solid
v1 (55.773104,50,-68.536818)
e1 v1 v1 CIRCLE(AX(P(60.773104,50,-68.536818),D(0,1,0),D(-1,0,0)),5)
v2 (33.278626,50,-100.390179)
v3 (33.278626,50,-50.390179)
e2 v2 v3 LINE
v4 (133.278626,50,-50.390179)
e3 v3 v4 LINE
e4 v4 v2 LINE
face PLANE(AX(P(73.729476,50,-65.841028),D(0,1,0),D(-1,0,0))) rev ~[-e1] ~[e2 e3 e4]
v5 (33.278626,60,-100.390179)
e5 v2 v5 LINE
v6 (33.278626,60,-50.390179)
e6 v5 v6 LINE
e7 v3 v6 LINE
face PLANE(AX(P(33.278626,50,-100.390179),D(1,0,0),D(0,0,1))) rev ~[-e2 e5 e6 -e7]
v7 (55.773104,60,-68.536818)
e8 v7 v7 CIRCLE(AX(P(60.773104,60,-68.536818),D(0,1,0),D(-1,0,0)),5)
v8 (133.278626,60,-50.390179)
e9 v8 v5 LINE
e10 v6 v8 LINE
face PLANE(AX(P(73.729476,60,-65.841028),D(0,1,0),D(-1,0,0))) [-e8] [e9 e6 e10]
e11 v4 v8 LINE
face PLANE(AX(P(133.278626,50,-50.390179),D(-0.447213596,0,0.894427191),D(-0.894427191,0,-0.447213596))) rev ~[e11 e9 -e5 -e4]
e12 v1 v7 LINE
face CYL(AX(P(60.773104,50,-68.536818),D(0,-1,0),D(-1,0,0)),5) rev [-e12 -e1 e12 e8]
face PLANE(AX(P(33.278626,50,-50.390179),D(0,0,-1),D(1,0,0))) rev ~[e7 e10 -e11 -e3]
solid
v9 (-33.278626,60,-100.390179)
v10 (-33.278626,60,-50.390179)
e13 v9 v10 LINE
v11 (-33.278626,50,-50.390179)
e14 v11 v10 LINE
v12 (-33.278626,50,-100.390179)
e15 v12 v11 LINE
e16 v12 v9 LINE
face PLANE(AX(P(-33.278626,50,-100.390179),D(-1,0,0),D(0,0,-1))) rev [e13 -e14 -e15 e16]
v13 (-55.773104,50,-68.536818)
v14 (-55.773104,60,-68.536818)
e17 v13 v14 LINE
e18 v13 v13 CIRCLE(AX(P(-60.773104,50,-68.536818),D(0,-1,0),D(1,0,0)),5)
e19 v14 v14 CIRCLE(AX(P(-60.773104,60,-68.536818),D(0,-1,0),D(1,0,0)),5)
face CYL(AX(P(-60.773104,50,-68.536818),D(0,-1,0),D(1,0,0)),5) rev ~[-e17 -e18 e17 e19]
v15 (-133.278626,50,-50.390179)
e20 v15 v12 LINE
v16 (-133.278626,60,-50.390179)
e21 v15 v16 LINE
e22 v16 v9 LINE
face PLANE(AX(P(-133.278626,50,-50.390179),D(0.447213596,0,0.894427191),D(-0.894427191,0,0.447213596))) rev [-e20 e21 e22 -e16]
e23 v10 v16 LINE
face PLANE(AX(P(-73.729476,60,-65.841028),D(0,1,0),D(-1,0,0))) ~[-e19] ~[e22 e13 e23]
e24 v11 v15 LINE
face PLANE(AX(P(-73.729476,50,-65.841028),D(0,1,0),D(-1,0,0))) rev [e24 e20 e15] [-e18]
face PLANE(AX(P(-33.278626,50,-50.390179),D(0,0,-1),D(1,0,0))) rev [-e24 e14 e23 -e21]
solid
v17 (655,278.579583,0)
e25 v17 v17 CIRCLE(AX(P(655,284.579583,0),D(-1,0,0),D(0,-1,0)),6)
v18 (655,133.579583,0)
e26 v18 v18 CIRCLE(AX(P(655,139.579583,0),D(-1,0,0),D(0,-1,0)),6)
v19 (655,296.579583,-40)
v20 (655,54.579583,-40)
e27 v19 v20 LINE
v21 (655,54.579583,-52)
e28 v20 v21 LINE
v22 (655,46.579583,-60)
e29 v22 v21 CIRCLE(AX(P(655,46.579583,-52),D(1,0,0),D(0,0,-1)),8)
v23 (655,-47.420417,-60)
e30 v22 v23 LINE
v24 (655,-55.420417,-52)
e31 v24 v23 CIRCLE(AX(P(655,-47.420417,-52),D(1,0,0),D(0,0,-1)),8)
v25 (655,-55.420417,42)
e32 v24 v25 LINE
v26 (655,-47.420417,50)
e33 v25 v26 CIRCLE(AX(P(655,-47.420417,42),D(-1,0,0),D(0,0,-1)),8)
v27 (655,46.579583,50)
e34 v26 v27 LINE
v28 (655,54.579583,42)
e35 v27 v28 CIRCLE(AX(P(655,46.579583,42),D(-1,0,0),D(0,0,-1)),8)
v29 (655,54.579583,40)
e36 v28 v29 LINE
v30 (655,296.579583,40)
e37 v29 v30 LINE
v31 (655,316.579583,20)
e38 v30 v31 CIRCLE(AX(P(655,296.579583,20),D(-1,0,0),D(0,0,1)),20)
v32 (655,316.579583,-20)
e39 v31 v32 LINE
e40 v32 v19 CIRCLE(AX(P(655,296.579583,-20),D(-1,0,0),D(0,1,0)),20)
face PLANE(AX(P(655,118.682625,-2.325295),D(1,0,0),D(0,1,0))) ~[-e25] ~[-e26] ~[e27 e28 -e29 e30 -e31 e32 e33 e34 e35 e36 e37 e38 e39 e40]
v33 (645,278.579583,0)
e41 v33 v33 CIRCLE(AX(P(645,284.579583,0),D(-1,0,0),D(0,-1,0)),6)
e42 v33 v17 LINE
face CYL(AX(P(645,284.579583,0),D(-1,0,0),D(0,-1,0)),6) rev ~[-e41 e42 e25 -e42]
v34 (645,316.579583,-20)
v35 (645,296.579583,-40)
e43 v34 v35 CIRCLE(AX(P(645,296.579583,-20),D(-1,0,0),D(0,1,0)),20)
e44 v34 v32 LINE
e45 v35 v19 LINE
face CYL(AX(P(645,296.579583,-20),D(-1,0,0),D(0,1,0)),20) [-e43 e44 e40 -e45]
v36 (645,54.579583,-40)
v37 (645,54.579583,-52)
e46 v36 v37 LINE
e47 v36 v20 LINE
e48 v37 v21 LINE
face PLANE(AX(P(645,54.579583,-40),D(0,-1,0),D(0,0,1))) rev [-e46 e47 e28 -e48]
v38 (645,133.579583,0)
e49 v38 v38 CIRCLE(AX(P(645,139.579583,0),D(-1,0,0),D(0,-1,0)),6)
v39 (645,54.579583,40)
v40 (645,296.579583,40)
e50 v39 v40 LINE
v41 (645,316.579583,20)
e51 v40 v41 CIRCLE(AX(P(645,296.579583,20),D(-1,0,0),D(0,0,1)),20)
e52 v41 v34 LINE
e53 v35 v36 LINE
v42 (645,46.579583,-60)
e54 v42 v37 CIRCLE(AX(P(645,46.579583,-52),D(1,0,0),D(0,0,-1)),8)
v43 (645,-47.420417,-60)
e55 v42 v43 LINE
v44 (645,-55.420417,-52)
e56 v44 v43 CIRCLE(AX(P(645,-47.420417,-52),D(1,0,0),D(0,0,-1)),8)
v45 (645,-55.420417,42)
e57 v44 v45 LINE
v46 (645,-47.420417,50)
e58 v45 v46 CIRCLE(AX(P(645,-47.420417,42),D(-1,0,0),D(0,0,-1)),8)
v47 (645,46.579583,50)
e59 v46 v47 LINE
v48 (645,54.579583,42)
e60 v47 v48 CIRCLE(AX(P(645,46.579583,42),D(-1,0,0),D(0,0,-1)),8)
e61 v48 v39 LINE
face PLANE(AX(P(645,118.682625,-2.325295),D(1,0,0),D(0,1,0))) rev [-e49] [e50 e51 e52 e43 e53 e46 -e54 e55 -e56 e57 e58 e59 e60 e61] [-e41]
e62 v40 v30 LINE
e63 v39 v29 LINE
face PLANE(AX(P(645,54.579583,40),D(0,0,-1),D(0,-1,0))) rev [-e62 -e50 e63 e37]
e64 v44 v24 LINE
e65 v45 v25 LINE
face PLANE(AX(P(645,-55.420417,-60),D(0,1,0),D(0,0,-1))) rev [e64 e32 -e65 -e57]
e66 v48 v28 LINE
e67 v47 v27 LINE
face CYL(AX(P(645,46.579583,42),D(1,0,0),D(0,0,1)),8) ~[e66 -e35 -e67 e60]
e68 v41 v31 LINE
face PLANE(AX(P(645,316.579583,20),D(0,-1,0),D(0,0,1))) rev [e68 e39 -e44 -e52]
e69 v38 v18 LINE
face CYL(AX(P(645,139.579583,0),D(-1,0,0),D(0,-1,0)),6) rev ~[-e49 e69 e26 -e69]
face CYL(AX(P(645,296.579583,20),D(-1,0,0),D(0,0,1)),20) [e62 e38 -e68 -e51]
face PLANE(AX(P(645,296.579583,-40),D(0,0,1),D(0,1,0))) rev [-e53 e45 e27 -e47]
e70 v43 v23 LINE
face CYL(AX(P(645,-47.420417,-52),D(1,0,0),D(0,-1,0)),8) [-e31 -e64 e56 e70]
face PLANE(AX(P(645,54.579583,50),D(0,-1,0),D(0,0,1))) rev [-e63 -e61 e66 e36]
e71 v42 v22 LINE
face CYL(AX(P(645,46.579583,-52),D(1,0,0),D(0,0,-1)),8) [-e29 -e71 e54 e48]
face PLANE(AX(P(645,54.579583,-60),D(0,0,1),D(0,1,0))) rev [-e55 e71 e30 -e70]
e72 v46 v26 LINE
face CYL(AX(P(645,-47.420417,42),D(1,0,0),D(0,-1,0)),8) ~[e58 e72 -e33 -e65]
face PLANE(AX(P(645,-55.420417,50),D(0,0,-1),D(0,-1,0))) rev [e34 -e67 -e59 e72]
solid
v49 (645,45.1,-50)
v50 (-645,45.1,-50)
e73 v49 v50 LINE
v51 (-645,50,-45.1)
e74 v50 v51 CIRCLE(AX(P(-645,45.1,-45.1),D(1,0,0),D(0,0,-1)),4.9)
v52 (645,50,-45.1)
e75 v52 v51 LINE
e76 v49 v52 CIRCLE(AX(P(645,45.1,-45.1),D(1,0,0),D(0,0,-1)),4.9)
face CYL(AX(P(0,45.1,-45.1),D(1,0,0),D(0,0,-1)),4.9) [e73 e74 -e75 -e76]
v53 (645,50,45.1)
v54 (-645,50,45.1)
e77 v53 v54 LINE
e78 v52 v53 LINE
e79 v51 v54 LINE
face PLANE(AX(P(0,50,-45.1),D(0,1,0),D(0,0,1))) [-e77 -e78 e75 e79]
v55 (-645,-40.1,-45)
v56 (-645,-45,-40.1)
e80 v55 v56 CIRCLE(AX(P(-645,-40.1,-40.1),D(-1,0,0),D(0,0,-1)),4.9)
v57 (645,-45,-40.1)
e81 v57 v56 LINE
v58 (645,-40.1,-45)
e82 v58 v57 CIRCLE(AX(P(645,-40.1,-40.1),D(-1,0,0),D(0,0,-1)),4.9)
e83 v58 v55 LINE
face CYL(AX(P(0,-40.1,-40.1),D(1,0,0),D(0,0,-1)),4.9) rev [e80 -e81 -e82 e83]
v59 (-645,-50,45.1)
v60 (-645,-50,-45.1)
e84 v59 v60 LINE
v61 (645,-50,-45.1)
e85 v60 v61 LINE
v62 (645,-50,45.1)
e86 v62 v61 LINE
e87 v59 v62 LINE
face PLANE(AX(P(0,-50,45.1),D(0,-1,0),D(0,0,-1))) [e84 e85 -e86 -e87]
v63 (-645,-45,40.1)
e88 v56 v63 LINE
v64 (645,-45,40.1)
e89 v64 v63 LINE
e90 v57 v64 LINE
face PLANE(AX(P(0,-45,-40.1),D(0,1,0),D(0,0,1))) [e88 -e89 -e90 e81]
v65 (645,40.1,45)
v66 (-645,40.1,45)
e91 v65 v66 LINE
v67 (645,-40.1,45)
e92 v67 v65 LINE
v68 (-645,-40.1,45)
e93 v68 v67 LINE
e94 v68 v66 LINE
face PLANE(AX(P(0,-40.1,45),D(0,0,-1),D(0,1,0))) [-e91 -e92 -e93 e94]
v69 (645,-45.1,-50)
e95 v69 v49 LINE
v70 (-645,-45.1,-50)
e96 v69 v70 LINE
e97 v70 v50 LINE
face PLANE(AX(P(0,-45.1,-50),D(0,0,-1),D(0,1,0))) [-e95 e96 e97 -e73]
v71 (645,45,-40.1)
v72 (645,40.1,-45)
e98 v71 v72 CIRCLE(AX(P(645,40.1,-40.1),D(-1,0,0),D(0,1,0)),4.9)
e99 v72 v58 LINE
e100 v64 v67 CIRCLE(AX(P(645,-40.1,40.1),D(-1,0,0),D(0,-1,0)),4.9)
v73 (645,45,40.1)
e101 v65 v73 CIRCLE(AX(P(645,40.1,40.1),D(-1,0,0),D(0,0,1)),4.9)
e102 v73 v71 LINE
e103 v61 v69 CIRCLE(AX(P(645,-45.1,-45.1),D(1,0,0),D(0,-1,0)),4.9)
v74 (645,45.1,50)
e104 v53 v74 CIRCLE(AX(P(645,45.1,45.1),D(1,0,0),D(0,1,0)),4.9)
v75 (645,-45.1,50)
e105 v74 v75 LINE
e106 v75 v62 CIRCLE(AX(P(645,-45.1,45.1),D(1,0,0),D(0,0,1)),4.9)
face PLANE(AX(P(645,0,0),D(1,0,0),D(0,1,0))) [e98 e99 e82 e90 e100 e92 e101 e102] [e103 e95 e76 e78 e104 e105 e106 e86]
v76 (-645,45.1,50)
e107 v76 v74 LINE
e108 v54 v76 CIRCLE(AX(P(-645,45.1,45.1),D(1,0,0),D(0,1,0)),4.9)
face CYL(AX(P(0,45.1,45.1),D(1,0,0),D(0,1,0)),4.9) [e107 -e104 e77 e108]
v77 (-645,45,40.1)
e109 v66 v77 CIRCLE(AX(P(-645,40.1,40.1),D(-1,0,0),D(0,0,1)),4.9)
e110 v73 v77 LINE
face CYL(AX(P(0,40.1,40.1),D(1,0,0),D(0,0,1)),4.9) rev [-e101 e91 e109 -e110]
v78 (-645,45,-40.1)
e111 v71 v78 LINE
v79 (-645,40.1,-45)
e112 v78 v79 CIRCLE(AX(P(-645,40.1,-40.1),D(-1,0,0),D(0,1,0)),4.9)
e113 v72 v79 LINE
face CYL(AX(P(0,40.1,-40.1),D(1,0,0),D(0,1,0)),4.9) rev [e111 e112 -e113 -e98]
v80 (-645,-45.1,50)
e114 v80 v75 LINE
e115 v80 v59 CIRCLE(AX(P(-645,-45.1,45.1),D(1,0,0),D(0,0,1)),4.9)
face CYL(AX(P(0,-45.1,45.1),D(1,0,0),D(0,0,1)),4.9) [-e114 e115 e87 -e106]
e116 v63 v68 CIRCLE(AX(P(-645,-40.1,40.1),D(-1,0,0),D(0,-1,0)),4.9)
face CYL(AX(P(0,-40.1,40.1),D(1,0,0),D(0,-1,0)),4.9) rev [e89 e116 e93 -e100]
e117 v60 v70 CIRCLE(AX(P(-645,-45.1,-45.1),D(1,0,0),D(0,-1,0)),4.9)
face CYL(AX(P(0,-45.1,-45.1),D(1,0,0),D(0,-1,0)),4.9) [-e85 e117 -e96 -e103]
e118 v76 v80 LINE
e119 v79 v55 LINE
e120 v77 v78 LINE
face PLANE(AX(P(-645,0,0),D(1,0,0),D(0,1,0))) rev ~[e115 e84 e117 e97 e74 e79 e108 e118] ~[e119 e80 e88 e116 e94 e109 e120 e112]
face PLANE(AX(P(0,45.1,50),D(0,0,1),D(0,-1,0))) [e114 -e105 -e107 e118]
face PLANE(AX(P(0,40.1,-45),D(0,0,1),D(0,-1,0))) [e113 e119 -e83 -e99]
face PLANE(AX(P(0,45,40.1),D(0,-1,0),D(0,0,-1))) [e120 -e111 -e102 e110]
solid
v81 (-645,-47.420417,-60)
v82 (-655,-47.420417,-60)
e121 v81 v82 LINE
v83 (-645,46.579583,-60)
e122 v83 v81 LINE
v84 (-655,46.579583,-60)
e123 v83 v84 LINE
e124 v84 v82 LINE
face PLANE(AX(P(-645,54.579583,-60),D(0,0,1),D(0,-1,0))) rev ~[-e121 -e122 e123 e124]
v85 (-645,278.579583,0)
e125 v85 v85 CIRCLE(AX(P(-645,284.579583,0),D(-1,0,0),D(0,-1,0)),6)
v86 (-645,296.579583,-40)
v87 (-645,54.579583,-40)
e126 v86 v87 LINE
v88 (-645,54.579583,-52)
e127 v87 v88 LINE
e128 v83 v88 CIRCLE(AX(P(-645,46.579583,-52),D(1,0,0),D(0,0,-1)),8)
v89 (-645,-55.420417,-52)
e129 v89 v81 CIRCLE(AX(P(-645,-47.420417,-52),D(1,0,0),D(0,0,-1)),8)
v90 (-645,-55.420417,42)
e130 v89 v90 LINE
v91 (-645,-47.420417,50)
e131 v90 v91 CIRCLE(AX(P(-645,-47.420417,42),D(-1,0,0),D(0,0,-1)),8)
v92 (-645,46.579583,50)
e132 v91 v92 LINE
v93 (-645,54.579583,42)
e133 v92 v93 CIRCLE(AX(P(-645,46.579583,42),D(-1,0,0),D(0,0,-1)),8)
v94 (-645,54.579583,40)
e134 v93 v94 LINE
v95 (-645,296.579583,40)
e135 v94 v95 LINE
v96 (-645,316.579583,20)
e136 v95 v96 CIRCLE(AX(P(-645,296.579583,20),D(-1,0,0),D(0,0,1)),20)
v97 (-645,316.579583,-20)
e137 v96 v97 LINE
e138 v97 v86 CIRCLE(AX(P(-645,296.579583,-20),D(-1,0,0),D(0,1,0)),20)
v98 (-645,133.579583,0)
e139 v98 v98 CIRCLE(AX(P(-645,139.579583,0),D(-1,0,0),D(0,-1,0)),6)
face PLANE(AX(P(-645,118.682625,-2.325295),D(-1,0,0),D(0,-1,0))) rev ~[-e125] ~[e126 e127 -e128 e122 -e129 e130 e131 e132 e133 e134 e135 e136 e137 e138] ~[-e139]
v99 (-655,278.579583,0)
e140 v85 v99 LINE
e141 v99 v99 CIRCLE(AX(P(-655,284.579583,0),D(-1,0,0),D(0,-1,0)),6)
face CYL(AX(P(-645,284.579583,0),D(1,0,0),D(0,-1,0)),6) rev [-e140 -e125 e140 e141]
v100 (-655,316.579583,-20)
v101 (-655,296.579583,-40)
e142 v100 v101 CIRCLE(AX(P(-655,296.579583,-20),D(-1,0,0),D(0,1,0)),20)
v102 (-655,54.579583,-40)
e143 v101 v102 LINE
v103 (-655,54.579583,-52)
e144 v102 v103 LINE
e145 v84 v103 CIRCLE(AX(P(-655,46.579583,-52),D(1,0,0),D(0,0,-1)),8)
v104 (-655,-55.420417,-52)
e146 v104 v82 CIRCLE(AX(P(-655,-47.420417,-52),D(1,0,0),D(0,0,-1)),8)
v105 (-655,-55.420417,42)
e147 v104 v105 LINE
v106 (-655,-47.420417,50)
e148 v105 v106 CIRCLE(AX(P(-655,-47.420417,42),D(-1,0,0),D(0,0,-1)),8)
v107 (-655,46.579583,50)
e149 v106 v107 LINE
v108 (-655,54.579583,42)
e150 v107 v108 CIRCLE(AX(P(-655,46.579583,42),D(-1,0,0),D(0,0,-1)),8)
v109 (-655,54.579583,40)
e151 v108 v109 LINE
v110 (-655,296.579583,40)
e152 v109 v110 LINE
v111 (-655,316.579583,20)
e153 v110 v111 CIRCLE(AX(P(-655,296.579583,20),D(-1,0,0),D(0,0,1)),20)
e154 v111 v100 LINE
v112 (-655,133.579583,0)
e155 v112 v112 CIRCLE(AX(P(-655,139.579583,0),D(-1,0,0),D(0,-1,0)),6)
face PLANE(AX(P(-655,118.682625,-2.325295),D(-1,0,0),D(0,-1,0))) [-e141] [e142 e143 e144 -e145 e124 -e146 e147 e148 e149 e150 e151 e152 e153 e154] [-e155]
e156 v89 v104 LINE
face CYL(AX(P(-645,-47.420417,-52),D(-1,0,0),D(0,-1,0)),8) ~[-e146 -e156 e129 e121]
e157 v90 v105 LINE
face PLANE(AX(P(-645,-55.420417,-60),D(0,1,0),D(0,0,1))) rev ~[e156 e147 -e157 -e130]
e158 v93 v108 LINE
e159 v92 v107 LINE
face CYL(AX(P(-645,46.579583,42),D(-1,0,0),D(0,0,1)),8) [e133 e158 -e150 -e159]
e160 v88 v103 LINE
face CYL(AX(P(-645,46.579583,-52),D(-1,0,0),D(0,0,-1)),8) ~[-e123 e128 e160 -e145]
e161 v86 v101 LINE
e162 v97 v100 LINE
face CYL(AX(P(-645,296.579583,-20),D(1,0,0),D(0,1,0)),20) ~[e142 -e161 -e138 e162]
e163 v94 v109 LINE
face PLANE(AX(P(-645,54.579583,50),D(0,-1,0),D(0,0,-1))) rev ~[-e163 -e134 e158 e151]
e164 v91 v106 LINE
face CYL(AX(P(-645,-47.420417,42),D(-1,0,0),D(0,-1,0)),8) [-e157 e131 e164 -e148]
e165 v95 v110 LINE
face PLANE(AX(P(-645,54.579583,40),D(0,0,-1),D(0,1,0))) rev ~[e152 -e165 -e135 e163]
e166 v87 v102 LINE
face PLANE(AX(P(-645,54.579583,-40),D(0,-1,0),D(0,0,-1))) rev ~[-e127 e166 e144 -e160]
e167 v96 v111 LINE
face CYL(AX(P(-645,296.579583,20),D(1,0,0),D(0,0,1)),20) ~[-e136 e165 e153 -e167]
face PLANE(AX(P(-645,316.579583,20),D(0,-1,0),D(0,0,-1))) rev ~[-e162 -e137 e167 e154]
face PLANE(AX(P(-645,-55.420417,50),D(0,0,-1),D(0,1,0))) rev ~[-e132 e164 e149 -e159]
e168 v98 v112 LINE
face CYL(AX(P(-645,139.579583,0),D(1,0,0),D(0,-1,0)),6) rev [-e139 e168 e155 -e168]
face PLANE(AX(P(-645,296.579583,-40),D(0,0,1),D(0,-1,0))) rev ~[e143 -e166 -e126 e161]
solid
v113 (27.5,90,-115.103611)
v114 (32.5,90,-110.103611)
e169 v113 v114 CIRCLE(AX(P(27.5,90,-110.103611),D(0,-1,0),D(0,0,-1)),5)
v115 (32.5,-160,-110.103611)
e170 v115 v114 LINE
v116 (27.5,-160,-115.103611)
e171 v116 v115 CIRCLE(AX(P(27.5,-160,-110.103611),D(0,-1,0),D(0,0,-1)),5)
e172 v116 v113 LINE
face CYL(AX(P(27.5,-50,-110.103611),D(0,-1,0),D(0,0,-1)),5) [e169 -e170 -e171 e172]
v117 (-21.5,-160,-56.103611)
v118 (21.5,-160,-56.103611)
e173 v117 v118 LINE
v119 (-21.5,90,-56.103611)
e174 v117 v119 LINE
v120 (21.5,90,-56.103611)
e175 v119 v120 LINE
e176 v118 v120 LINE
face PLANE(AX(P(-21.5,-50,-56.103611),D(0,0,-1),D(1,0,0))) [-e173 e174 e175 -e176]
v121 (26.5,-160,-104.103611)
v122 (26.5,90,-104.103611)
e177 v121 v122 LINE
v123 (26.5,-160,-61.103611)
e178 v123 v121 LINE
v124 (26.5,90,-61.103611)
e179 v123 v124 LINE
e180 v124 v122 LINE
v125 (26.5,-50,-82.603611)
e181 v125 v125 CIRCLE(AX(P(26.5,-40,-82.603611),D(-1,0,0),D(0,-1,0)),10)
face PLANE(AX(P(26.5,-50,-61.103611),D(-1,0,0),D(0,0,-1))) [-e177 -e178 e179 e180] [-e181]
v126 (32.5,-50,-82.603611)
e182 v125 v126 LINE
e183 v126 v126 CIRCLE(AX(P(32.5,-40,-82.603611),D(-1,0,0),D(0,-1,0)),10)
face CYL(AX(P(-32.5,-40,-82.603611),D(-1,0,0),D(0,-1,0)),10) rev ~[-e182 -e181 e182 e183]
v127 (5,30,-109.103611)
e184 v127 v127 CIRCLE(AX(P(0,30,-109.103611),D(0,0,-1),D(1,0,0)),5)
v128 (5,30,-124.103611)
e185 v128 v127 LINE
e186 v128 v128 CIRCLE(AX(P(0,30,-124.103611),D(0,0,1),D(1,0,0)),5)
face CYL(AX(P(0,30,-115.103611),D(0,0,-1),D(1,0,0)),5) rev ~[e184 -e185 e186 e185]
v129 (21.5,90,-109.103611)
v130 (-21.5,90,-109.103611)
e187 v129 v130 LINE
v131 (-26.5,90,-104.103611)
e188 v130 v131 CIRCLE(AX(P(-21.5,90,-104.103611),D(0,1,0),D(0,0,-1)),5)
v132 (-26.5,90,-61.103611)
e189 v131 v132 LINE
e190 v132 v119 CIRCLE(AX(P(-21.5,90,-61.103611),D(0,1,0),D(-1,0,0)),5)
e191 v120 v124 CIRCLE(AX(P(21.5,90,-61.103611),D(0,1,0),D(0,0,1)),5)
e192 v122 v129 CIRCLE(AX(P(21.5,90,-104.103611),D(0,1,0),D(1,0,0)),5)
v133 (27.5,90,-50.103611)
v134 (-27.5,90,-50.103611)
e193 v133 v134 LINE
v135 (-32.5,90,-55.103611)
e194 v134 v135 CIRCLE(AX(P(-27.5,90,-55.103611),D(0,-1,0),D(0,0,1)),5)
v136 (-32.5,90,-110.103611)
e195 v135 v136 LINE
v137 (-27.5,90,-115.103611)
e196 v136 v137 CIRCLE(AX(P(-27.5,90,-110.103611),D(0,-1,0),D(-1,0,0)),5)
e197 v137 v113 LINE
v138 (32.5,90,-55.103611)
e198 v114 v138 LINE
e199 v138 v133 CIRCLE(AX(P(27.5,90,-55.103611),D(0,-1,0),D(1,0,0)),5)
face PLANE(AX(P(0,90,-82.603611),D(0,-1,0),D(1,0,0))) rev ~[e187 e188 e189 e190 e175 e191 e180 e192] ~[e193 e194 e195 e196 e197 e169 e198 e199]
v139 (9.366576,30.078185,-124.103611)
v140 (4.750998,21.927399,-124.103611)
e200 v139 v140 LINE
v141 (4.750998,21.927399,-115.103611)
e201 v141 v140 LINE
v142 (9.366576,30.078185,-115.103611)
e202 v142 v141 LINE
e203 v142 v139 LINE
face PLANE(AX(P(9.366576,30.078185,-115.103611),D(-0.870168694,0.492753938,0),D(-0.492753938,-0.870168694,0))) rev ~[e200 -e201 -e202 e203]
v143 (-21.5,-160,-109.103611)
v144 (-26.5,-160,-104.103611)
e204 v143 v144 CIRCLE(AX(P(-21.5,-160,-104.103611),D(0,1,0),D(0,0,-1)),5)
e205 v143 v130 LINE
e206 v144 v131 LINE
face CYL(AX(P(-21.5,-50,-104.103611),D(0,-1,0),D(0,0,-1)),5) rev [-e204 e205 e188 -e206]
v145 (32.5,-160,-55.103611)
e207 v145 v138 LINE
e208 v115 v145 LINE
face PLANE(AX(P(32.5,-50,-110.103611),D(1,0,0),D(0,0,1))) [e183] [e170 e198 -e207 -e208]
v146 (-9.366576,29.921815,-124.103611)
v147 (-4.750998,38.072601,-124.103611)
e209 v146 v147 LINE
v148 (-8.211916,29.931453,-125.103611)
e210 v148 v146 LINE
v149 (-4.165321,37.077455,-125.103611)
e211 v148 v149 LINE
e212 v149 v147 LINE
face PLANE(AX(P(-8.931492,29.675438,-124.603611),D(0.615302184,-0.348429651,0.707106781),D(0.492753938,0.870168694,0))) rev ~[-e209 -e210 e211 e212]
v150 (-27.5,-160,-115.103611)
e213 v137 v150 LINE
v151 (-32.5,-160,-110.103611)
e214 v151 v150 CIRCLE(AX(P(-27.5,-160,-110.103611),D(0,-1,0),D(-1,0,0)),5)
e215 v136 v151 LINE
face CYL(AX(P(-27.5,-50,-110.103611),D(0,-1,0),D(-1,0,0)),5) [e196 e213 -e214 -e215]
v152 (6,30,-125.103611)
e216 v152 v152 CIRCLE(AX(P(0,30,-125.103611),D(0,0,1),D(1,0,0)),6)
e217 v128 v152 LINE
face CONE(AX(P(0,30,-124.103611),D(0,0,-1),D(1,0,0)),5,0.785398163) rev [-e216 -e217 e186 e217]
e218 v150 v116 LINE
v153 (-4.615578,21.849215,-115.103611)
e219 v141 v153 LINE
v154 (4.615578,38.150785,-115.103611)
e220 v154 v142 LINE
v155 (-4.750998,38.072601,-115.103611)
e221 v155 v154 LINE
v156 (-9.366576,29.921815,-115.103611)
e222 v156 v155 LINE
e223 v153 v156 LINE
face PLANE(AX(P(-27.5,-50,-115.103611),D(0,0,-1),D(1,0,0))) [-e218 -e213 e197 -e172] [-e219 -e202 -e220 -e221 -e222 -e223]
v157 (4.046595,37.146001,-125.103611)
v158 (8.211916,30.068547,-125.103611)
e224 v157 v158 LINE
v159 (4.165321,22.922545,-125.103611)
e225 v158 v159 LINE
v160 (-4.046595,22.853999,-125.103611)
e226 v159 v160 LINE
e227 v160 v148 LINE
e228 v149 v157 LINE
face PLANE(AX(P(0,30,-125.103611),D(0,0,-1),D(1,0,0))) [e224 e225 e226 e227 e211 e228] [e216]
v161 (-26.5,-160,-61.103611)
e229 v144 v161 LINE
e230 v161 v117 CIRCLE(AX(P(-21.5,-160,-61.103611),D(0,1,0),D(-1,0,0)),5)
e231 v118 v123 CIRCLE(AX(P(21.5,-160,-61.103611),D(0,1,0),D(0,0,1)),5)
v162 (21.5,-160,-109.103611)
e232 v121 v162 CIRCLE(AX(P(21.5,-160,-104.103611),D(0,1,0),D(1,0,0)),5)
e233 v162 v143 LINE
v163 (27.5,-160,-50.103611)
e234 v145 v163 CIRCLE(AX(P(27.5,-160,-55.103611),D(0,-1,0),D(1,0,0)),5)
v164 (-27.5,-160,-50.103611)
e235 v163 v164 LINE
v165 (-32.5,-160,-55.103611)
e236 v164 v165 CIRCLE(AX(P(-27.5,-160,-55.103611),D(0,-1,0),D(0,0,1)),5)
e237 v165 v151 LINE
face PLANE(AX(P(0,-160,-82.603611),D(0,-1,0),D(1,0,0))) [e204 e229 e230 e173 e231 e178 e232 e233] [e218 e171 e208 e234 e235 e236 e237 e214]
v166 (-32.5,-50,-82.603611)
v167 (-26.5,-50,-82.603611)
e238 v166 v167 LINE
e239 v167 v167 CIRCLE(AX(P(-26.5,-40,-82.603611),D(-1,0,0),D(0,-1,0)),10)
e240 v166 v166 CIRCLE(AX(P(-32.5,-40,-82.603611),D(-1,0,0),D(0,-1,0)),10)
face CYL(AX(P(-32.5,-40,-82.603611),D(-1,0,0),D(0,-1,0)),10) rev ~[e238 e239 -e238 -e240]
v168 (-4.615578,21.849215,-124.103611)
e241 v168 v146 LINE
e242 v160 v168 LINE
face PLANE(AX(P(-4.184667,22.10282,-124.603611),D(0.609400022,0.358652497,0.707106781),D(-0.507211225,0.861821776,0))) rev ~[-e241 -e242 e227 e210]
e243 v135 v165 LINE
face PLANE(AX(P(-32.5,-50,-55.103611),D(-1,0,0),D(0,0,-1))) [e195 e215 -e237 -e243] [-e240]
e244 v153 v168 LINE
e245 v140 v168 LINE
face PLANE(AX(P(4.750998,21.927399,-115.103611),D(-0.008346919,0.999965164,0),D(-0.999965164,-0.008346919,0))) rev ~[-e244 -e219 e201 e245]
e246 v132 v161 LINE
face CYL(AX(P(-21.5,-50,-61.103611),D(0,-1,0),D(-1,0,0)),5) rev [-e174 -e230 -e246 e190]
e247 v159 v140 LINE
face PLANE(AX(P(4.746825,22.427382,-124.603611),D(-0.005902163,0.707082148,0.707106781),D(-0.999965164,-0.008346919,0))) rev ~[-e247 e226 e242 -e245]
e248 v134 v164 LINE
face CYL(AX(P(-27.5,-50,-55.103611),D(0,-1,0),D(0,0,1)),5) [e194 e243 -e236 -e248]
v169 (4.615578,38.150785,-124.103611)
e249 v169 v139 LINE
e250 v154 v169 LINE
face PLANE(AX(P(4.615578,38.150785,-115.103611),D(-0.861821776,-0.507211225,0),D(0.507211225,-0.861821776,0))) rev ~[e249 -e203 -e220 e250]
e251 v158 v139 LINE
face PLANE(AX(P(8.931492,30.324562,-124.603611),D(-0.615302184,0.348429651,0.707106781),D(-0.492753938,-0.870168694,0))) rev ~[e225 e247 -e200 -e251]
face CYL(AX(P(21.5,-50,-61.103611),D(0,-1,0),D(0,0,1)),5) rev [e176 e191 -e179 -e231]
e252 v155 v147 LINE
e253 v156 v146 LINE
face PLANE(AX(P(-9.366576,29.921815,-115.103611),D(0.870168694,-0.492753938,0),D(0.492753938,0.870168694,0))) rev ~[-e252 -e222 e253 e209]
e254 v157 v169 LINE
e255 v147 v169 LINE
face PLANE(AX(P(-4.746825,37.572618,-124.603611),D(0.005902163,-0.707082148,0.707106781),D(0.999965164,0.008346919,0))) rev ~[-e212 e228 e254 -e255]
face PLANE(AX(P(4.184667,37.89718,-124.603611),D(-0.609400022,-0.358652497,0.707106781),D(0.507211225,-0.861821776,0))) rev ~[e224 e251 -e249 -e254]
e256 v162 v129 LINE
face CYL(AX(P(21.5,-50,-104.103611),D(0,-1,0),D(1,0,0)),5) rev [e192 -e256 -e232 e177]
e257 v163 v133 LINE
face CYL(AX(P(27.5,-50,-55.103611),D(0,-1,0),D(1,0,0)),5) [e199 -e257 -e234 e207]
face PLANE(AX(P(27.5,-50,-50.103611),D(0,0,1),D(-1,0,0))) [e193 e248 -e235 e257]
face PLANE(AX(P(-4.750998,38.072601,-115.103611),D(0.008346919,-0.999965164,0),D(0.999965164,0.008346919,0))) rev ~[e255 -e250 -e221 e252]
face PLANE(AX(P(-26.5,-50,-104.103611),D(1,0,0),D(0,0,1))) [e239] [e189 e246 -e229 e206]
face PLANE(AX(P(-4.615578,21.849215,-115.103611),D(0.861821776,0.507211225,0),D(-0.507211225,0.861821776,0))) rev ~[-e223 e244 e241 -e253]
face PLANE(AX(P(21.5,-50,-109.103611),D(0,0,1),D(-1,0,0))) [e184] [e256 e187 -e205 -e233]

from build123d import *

# Parameters (mm, degrees)
F1_DEPTH       = 645
F1_DEPTH_BACK  = 645
F2_R           = 6
F3_DEPTH       = 10
F4_R           = 8
F7_DEPTH       = 110
F7_DEPTH_BACK  = 140
F8_R           = 10
F9_DEPTH       = 259
F11_DEPTH      = 10
F12_R          = 5
F13_DEPTH      = 25
F13_DEPTH_BACK = 25.8
F14_SIZE       = 1
F15_R          = 5
F16_DEPTH      = 10


with BuildPart() as f1:
    # F0 (on Right) → F1 (new body, two sides)
    with BuildSketch(Plane.YZ) as f1_sk:
        with BuildLine():
            ThreePointArc((50, 45.1), (48.5648232278, 48.5648232278), (45.1, 50))
            Line((45.1, 50), (-45.1, 50))
            ThreePointArc((-45.1, 50), (-48.5648232278, 48.5648232278), (-50, 45.1))
            Line((-50, 45.1), (-50, -45.1))
            ThreePointArc((-50, -45.1), (-48.5648232278, -48.5648232278), (-45.1, -50))
            Line((-45.1, -50), (45.1, -50))
            ThreePointArc((45.1, -50), (48.5648232278, -48.5648232278), (50, -45.1))
            Line((50, -45.1), (50, 45.1))
        make_face()
        with BuildLine():
            Line((-40.1, 45), (40.1, 45))
            ThreePointArc((40.1, 45), (43.5648232278, 43.5648232278), (45, 40.1))
            Line((45, 40.1), (45, -40.1))
            ThreePointArc((45, -40.1), (43.5648232278, -43.5648232278), (40.1, -45))
            Line((40.1, -45), (-40.1, -45))
            ThreePointArc((-40.1, -45), (-43.5648232278, -43.5648232278), (-45, -40.1))
            Line((-45, -40.1), (-45, 40.1))
            ThreePointArc((-45, 40.1), (-43.5648232278, 43.5648232278), (-40.1, 45))
        make_face(mode=Mode.SUBTRACT)
    extrude(amount=F1_DEPTH)
    extrude(f1_sk.sketch, amount=-F1_DEPTH_BACK)


with BuildPart() as f3:
    # F2 (on face) → F3 (new body)
    with BuildSketch(Plane(origin=(-645, 0, 0), x_dir=(0, -1, 0), z_dir=(-1, 0, 0))):
        with BuildLine():
            Line((55.4204173386, -60), (55.4204173386, 50))
            Line((55.4204173386, 50), (-54.5795826614, 50))
            Line((-54.5795826614, 50), (-54.5795826614, 40))
            Line((-54.5795826614, 40), (-296.5795826614, 40))
            ThreePointArc((-296.5795826614, 40), (-310.7217182851, 34.1421356237), (-316.5795826614, 20))
            Line((-316.5795826614, 20), (-316.5795826614, -20))
            ThreePointArc((-316.5795826614, -20), (-310.7217182851, -34.1421356237), (-296.5795826614, -40))
            Line((-296.5795826614, -40), (-54.5795826614, -40))
            Line((-54.5795826614, -40), (-54.5795826614, -60))
            Line((-54.5795826614, -60), (55.4204173386, -60))
        make_face()
        with Locations((-284.5795826614, 0)):
            Circle(F2_R, mode=Mode.SUBTRACT)
        with Locations((-139.5795826614, 0)):
            Circle(F2_R, mode=Mode.SUBTRACT)
    extrude(amount=F3_DEPTH)

    # F4
    f4_edges = [f3.edges().sort_by_distance(p)[0] for p in [
        (-650, 54.579583, 50),
        (-650, -55.420417, 50),
        (-650, -55.420417, -60),
        (-650, 54.579583, -60),
    ]]
    fillet(f4_edges, radius=F4_R)


with BuildPart() as f5_1:
    # F5: instance of F3
    add(f3.part.mirror(Plane.YZ))


with BuildPart() as f7:
    # F6 (on face) → F7 (new body, two sides)
    with BuildSketch(Plane.XZ.offset(50)) as f7_sk:
        with BuildLine():
            Line((27.5, -50.103611052), (-27.5, -50.103611052))
            ThreePointArc((-27.5, -50.103611052), (-31.0355339059, -51.5680771461), (-32.5, -55.103611052))
            Line((-32.5, -55.103611052), (-32.5, -110.103611052))
            ThreePointArc((-32.5, -110.103611052), (-31.0355339059, -113.639144958), (-27.5, -115.103611052))
            Line((-27.5, -115.103611052), (27.5, -115.103611052))
            ThreePointArc((27.5, -115.103611052), (31.0355339059, -113.639144958), (32.5, -110.103611052))
            Line((32.5, -110.103611052), (32.5, -55.103611052))
            ThreePointArc((32.5, -55.103611052), (31.0355339059, -51.5680771461), (27.5, -50.103611052))
        make_face()
        with BuildLine():
            ThreePointArc((-26.5, -61.103611052), (-25.0355339059, -57.5680771461), (-21.5, -56.103611052))
            Line((-21.5, -56.103611052), (21.5, -56.103611052))
            ThreePointArc((21.5, -56.103611052), (25.0355339059, -57.5680771461), (26.5, -61.103611052))
            Line((26.5, -61.103611052), (26.5, -104.103611052))
            ThreePointArc((26.5, -104.103611052), (25.0355339059, -107.639144958), (21.5, -109.103611052))
            Line((21.5, -109.103611052), (-21.5, -109.103611052))
            ThreePointArc((-21.5, -109.103611052), (-25.0355339059, -107.639144958), (-26.5, -104.103611052))
            Line((-26.5, -104.103611052), (-26.5, -61.103611052))
        make_face(mode=Mode.SUBTRACT)
    extrude(amount=F7_DEPTH)
    extrude(f7_sk.sketch, amount=-F7_DEPTH_BACK)

    # F8 (on face) → F9 (cut)
    with BuildSketch(Plane(origin=(-32.5, 0, 0), x_dir=(0, -1, 0), z_dir=(-1, 0, 0))):
        with Locations((40, -82.603611052)):
            Circle(F8_R)
    extrude(amount=-F9_DEPTH, mode=Mode.SUBTRACT)

    # F10 (on face) → F11 (join)
    with BuildSketch(Plane(origin=(0, 0, -115.103611052), x_dir=(1, 0, 0), z_dir=(0, 0, -1))):
        Polygon((-4.6155781431, -21.8492146033), (-9.3665762859, -29.9218152267), (-4.7509981428, -38.0726006234), (4.6155781431, -38.1507853967), (9.3665762859, -30.0781847733), (4.7509981428, -21.9273993766), align=None)
    extrude(amount=F11_DEPTH)

    # F12 (on face) → F13 (cut, two sides)
    with BuildSketch(Plane(origin=(0, 0, -115.103611052), x_dir=(1, 0, 0), z_dir=(0, 0, -1))) as f13_sk:
        with Locations((0, -30)):
            Circle(F12_R)
    extrude(amount=-F13_DEPTH, mode=Mode.SUBTRACT)
    extrude(f13_sk.sketch, amount=F13_DEPTH_BACK, mode=Mode.SUBTRACT)

    # F14
    f14_edges = [f7.edges().sort_by_distance(p)[0] for p in [
        (0.06771, 21.888307, -125.103611),
        (7.058787, 26.002792, -125.103611),
        (-6.991077, 25.885515, -125.103611),
        (6.991077, 34.114485, -125.103611),
        (-7.058787, 33.997208, -125.103611),
        (-0.06771, 38.111693, -125.103611),
        (-5, 30, -125.103611),
    ]]
    chamfer(f14_edges, length=F14_SIZE)


with BuildPart() as f16:
    # F15 (on face) → F16 (new body)
    with BuildSketch(Plane(origin=(0, 50, 0), x_dir=(-1, 0, 0), z_dir=(0, 1, 0))):
        Polygon((-33.2786262035, -100.390178534), (-33.2786262035, -50.390178534), (-133.2786262035, -50.390178534), align=None)
        with Locations((-60.7731044292, -68.5368180275)):
            Circle(F15_R, mode=Mode.SUBTRACT)
    extrude(amount=F16_DEPTH)


with BuildPart() as f17_1:
    # F17: instance of F16
    add(f16.part.mirror(Plane.YZ))


solid = Compound([f1.part, f3.part, f5_1.part, f7.part, f16.part, f17_1.part])
